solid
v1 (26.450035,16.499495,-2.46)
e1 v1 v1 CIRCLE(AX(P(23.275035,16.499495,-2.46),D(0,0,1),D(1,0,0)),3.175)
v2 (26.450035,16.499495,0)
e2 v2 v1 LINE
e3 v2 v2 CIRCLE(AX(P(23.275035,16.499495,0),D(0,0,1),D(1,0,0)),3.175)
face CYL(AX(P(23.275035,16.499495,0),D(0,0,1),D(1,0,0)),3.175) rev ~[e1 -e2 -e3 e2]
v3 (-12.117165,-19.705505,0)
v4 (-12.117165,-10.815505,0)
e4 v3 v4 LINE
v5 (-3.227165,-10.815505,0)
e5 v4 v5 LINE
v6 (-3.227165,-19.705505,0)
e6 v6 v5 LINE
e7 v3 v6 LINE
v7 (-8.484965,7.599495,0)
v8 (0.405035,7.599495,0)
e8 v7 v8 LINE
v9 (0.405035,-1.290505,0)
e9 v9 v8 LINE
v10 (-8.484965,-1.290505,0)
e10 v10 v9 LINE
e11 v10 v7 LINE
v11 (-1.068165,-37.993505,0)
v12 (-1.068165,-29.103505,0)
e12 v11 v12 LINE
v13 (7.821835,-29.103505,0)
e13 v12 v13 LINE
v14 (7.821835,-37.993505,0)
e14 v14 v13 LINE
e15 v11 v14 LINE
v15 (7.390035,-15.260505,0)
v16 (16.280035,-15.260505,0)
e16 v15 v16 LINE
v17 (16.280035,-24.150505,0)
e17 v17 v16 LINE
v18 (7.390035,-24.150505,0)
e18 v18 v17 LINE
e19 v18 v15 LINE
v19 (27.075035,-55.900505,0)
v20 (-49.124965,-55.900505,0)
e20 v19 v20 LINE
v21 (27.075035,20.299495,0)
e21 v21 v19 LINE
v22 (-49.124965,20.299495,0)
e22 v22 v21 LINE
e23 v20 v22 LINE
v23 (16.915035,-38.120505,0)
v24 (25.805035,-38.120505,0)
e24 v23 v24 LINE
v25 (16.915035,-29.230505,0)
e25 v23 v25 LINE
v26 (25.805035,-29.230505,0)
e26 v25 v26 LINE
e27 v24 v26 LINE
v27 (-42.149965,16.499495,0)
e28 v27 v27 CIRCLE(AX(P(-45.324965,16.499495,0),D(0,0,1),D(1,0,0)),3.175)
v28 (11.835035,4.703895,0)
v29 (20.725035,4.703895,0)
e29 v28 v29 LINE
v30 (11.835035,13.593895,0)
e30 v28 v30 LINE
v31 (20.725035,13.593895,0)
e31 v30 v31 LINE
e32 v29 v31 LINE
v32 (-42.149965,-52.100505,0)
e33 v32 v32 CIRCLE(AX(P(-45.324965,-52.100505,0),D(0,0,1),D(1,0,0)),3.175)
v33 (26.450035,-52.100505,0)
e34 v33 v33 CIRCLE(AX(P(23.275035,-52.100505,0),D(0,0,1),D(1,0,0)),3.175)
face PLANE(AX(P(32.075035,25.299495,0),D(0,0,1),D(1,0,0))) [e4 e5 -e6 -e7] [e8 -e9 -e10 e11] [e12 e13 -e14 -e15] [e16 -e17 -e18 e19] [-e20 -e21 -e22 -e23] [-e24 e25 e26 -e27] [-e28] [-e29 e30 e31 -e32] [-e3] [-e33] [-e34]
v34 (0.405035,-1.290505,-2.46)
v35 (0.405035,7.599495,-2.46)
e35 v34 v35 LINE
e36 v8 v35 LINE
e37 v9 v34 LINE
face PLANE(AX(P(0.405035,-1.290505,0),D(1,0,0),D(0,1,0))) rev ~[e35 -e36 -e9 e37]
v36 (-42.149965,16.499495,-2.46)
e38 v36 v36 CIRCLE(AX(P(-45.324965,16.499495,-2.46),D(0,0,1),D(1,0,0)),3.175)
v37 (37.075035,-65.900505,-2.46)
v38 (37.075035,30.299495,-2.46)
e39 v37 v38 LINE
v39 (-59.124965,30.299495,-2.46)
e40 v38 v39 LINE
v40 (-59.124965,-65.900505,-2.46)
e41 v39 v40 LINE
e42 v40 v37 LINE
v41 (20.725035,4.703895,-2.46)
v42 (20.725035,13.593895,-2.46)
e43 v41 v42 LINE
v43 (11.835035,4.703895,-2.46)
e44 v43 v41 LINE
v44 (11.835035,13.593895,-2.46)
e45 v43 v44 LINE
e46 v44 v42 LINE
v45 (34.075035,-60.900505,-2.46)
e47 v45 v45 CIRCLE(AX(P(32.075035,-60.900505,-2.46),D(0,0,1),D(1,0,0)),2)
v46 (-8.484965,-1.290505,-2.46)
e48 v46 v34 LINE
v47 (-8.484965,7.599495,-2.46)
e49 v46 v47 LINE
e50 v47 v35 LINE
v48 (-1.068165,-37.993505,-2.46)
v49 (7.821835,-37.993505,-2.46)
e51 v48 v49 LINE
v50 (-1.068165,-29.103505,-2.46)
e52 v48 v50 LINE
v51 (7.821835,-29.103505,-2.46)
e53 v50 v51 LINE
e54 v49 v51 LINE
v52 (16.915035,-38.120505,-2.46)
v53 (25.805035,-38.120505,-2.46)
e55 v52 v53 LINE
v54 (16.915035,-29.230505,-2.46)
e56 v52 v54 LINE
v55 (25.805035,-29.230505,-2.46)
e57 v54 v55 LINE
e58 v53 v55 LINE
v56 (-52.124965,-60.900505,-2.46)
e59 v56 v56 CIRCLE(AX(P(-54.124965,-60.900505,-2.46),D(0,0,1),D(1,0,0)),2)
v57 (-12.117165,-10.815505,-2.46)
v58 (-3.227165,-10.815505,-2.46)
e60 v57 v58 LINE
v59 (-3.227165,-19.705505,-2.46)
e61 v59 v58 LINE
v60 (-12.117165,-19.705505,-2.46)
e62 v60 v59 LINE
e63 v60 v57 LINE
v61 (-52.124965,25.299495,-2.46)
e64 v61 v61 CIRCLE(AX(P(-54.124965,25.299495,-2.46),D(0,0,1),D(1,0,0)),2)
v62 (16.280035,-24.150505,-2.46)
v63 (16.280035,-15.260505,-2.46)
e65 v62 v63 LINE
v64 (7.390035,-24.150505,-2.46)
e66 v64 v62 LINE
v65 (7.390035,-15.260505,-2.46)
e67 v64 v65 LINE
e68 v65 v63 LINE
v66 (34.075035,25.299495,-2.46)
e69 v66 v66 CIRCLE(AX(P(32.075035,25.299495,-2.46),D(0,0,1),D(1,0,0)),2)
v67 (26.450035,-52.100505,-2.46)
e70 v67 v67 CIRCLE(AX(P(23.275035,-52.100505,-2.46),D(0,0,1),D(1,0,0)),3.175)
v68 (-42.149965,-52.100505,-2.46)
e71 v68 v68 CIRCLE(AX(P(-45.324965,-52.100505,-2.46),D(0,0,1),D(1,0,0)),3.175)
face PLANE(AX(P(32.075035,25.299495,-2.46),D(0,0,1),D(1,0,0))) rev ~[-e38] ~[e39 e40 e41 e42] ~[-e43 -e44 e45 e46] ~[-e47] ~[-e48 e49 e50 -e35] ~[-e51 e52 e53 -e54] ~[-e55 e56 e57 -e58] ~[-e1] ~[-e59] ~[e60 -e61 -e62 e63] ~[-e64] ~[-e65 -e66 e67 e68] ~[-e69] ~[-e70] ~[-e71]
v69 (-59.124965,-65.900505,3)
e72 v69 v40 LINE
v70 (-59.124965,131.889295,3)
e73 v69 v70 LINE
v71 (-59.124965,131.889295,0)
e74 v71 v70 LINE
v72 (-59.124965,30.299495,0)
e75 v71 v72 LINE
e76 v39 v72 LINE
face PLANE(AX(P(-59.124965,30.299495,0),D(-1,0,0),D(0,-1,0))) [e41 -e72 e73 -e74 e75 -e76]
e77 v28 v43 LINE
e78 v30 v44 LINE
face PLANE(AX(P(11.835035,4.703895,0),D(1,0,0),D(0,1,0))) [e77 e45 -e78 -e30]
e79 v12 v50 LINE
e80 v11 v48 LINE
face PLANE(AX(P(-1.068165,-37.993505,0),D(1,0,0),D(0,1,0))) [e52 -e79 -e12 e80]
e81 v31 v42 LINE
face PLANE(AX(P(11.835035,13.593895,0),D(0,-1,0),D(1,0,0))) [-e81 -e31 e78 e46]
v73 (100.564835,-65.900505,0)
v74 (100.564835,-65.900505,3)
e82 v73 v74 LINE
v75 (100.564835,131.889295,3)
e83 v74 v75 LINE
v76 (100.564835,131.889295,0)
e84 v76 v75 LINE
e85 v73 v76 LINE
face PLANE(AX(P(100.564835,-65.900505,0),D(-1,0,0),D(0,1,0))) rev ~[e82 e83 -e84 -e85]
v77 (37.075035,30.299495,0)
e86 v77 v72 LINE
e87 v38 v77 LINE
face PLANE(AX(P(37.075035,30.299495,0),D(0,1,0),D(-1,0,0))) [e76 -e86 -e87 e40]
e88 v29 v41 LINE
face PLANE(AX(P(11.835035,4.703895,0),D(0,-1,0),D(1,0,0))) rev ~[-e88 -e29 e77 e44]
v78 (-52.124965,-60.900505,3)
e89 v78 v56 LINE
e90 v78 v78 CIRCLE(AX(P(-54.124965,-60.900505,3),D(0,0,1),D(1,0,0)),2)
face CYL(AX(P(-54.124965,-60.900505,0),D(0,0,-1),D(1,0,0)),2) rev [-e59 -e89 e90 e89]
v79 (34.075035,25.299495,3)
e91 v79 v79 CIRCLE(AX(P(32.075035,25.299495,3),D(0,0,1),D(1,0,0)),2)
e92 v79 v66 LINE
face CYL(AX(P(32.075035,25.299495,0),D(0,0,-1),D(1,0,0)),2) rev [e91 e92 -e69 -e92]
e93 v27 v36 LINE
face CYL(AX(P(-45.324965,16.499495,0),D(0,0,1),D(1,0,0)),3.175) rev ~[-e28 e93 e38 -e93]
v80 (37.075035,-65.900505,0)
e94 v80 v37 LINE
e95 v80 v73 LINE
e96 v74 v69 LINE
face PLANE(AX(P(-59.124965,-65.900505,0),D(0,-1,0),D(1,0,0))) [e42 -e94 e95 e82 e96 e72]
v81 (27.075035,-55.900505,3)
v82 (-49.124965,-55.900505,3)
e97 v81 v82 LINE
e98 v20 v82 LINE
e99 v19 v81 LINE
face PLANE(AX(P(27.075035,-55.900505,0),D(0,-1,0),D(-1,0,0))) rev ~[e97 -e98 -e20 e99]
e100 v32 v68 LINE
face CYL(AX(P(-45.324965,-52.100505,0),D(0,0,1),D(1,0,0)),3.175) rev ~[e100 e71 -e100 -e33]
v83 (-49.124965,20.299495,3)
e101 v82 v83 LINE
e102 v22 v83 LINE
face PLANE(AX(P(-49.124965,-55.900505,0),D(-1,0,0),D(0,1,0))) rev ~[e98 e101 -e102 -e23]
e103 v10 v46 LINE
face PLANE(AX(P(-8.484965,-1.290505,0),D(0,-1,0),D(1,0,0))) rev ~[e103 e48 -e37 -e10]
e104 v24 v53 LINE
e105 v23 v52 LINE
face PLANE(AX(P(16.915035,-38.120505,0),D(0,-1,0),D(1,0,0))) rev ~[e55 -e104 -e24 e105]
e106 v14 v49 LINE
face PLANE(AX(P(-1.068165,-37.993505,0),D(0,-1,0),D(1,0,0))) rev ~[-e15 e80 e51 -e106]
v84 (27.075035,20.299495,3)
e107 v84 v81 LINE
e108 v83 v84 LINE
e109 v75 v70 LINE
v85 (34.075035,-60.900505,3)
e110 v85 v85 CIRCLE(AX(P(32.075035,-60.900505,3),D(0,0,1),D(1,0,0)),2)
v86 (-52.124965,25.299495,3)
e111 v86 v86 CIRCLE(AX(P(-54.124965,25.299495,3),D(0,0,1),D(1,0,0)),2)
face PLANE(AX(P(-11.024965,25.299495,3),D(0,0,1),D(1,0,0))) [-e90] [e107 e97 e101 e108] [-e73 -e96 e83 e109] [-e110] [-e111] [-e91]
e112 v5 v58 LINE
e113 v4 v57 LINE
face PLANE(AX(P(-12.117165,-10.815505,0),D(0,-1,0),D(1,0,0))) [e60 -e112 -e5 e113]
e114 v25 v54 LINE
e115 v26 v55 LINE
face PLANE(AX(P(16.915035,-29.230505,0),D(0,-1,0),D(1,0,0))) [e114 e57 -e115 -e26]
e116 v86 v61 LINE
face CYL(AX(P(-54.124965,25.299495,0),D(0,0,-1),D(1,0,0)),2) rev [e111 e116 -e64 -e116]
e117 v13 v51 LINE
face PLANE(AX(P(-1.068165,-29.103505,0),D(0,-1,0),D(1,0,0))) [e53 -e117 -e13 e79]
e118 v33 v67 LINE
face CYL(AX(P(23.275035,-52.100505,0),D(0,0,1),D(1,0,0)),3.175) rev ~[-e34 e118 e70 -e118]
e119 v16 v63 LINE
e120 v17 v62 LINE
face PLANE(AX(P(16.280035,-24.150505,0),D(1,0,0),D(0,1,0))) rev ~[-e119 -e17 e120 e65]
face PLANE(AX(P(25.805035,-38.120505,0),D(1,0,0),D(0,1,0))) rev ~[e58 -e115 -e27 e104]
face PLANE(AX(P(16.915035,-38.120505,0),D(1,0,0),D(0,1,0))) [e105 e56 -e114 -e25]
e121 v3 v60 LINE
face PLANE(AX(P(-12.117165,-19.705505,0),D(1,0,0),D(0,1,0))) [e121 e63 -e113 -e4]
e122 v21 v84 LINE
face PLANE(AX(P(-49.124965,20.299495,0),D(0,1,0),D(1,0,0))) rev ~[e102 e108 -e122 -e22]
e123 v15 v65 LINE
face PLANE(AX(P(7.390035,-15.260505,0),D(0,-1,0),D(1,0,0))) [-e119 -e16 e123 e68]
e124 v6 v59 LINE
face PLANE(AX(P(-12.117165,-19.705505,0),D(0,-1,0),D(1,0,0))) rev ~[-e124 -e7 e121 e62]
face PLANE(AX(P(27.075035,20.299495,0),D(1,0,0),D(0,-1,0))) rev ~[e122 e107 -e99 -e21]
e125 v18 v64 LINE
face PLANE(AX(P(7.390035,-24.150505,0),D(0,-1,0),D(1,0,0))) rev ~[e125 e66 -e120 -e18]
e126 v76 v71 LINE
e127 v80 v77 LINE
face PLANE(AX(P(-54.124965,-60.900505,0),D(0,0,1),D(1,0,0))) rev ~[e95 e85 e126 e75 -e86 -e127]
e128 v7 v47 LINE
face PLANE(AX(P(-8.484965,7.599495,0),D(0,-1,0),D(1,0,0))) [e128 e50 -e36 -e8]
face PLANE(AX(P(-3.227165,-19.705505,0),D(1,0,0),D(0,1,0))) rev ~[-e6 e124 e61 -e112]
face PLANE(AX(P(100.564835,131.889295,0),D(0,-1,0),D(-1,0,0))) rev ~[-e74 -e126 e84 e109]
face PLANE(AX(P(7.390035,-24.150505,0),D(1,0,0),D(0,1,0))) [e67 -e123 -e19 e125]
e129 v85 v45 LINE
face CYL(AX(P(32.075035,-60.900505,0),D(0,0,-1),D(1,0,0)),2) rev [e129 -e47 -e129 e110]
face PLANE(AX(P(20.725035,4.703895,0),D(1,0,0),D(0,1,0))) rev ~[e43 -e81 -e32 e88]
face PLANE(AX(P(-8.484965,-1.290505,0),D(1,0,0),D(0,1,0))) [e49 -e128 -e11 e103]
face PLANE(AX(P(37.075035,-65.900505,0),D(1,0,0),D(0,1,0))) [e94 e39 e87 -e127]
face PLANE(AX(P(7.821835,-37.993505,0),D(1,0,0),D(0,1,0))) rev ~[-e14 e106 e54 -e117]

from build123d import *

# Parameters (mm, degrees)
F0_R     = 2
F1_DEPTH = 3
F0_R_2   = 3.175
F0_W     = 8.89
F0_H     = 8.89
F2_DEPTH = 2.46
F3_DEPTH = 3


with BuildPart() as f1:
    # F0 (on Top) → F1 (new body)
    with BuildSketch(Plane.XY):
        Polygon((-49.1249652207, 30.2994954109), (-49.1249652207, 20.2994954109), (-48.8709652207, 20.2994954109), (-45.1879652207, 20.2994954109), (23.1380347793, 20.2994954109), (26.8210347793, 20.2994954109), (27.0750347793, 20.2994954109), (27.0750347793, 20.4264954109), (27.0750347793, 30.2994954109), align=None)
        Polygon((-59.1249652207, 25.2994954109), (-59.1249652207, 20.2994954109), (-54.1249652207, 20.2994954109), (-49.1249652207, 20.2994954109), (-49.1249652207, 30.2994954109), (-59.1249652207, 30.2994954109), align=None)
        with Locations((-54.1249652207, 25.2994954109)):
            Circle(F0_R, mode=Mode.SUBTRACT)
        Polygon((-59.1249652207, -60.9005045891), (-59.1249652207, -65.9005045891), (-54.1249652207, -65.9005045891), (-49.1249652207, -65.9005045891), (-49.1249652207, -55.9005045891), (-59.1249652207, -55.9005045891), align=None)
        with Locations((-54.1249652207, -60.9005045891)):
            Circle(F0_R, mode=Mode.SUBTRACT)
        Polygon((-59.1249652207, -30.5005045891), (-59.1249652207, -55.9005045891), (-49.1249652207, -55.9005045891), (-49.1249652207, -55.6465045891), (-49.1249652207, -54.1503839195), (-49.1249652207, -51.9635045891), (-49.1249652207, -30.5005045891), align=None)
        Polygon((-59.1249652207, 20.2994954109), (-59.1249652207, -30.5005045891), (-49.1249652207, -30.5005045891), (-49.1249652207, 16.3624954109), (-49.1249652207, 20.0454954109), (-49.1249652207, 20.2994954109), (-54.1249652207, 20.2994954109), align=None)
        Polygon((27.0750347793, -55.6465045891), (27.0750347793, -55.9005045891), (27.1951819298, -55.9005045891), (37.0750347793, -55.9005045891), (37.0750347793, 20.2994954109), (32.0750347793, 20.2994954109), (27.3221819298, 20.2994954109), (27.0750347793, 20.2994954109), (27.0750347793, 20.0454954109), (27.0750347793, 16.3624954109), (27.0750347793, 4.7038954109), (27.0750347793, -1.2905045891), (27.0750347793, -19.7055045891), (27.0750347793, -24.1505045891), (27.0750347793, -37.9935045891), (27.0750347793, -38.1205045891), (27.0750347793, -51.9635045891), align=None)
        Polygon((32.0750347793, 20.2994954109), (37.0750347793, 20.2994954109), (37.0750347793, 25.2994954109), (37.0750347793, 30.2994954109), (27.0750347793, 30.2994954109), (27.0750347793, 20.4264954109), (27.0750347793, 20.2994954109), (27.3221819298, 20.2994954109), align=None)
        with Locations((32.0750347793, 25.2994954109)):
            Circle(F0_R, mode=Mode.SUBTRACT)
        Polygon((27.0750347793, -55.9005045891), (27.0750347793, -65.9005045891), (32.0750347793, -65.9005045891), (37.0750347793, -65.9005045891), (37.0750347793, -60.9005045891), (37.0750347793, -55.9005045891), (27.1951819298, -55.9005045891), align=None)
        with Locations((32.0750347793, -60.9005045891)):
            Circle(F0_R, mode=Mode.SUBTRACT)
        Polygon((-49.1249652207, -55.9005045891), (-49.1249652207, -65.9005045891), (27.0750347793, -65.9005045891), (27.0750347793, -55.9005045891), (26.8210347793, -55.9005045891), (26.5670347793, -55.9005045891), (24.5350347793, -55.9005045891), (23.5190347793, -55.9005045891), (23.1380347793, -55.9005045891), (6.5518347793, -55.9005045891), (-0.8649652207, -55.9005045891), (-4.4971652207, -55.9005045891), (-45.1879652207, -55.9005045891), (-48.8709652207, -55.9005045891), align=None)
    extrude(amount=F1_DEPTH)

    # F0 (on Top) → F2 (join)
    with BuildSketch(Plane.XY):
        Polygon((32.0750347793, 20.2994954109), (37.0750347793, 20.2994954109), (37.0750347793, 25.2994954109), (37.0750347793, 30.2994954109), (27.0750347793, 30.2994954109), (27.0750347793, 20.4264954109), (27.0750347793, 20.2994954109), (27.3221819298, 20.2994954109), align=None)
        with Locations((32.0750347793, 25.2994954109)):
            Circle(F0_R, mode=Mode.SUBTRACT)
        Polygon((27.0750347793, -55.6465045891), (27.0750347793, -55.9005045891), (27.1951819298, -55.9005045891), (37.0750347793, -55.9005045891), (37.0750347793, 20.2994954109), (32.0750347793, 20.2994954109), (27.3221819298, 20.2994954109), (27.0750347793, 20.2994954109), (27.0750347793, 20.0454954109), (27.0750347793, 16.3624954109), (27.0750347793, 4.7038954109), (27.0750347793, -1.2905045891), (27.0750347793, -19.7055045891), (27.0750347793, -24.1505045891), (27.0750347793, -37.9935045891), (27.0750347793, -38.1205045891), (27.0750347793, -51.9635045891), align=None)
        Polygon((-49.1249652207, 30.2994954109), (-49.1249652207, 20.2994954109), (-48.8709652207, 20.2994954109), (-45.1879652207, 20.2994954109), (23.1380347793, 20.2994954109), (26.8210347793, 20.2994954109), (27.0750347793, 20.2994954109), (27.0750347793, 20.4264954109), (27.0750347793, 30.2994954109), align=None)
        Polygon((-59.1249652207, 25.2994954109), (-59.1249652207, 20.2994954109), (-54.1249652207, 20.2994954109), (-49.1249652207, 20.2994954109), (-49.1249652207, 30.2994954109), (-59.1249652207, 30.2994954109), align=None)
        with Locations((-54.1249652207, 25.2994954109)):
            Circle(F0_R, mode=Mode.SUBTRACT)
        Polygon((-59.1249652207, 20.2994954109), (-59.1249652207, -30.5005045891), (-49.1249652207, -30.5005045891), (-49.1249652207, 16.3624954109), (-49.1249652207, 20.0454954109), (-49.1249652207, 20.2994954109), (-54.1249652207, 20.2994954109), align=None)
        Polygon((-59.1249652207, -60.9005045891), (-59.1249652207, -65.9005045891), (-54.1249652207, -65.9005045891), (-49.1249652207, -65.9005045891), (-49.1249652207, -55.9005045891), (-59.1249652207, -55.9005045891), align=None)
        with Locations((-54.1249652207, -60.9005045891)):
            Circle(F0_R, mode=Mode.SUBTRACT)
        Polygon((-59.1249652207, -30.5005045891), (-59.1249652207, -55.9005045891), (-49.1249652207, -55.9005045891), (-49.1249652207, -55.6465045891), (-49.1249652207, -54.1503839195), (-49.1249652207, -51.9635045891), (-49.1249652207, -30.5005045891), align=None)
        Polygon((-49.1249652207, -55.9005045891), (-49.1249652207, -65.9005045891), (27.0750347793, -65.9005045891), (27.0750347793, -55.9005045891), (26.8210347793, -55.9005045891), (26.5670347793, -55.9005045891), (24.5350347793, -55.9005045891), (23.5190347793, -55.9005045891), (23.1380347793, -55.9005045891), (6.5518347793, -55.9005045891), (-0.8649652207, -55.9005045891), (-4.4971652207, -55.9005045891), (-45.1879652207, -55.9005045891), (-48.8709652207, -55.9005045891), align=None)
        Polygon((27.0750347793, -55.9005045891), (27.0750347793, -65.9005045891), (32.0750347793, -65.9005045891), (37.0750347793, -65.9005045891), (37.0750347793, -60.9005045891), (37.0750347793, -55.9005045891), (27.1951819298, -55.9005045891), align=None)
        with Locations((32.0750347793, -60.9005045891)):
            Circle(F0_R, mode=Mode.SUBTRACT)
        Polygon((-49.1249652207, -55.6465045891), (-49.1249652207, -55.9005045891), (-48.8709652207, -55.9005045891), (-45.1879652207, -55.9005045891), (-4.4971652207, -55.9005045891), (-0.8649652207, -55.9005045891), (6.5518347793, -55.9005045891), (23.1380347793, -55.9005045891), (23.5190347793, -55.9005045891), (24.5350347793, -55.9005045891), (26.5670347793, -55.9005045891), (26.8210347793, -55.9005045891), (27.0750347793, -55.9005045891), (27.0750347793, -55.6465045891), (27.0750347793, -51.9635045891), (27.0750347793, -38.1205045891), (27.0750347793, -37.9935045891), (27.0750347793, -24.1505045891), (27.0750347793, -19.7055045891), (27.0750347793, -1.2905045891), (27.0750347793, 4.7038954109), (27.0750347793, 16.3624954109), (27.0750347793, 20.0454954109), (27.0750347793, 20.2994954109), (26.8210347793, 20.2994954109), (23.1380347793, 20.2994954109), (-45.1879652207, 20.2994954109), (-48.8709652207, 20.2994954109), (-49.1249652207, 20.2994954109), (-49.1249652207, 20.0454954109), (-49.1249652207, 16.3624954109), (-49.1249652207, -30.5005045891), (-49.1249652207, -51.9635045891), (-49.1249652207, -54.1503839195), align=None)
        with Locations((-45.3249652207, -52.1005045891)):
            Circle(F0_R_2, mode=Mode.SUBTRACT)
        with Locations((3.3768347793, -33.5485045891)):
            Rectangle(F0_W, F0_H, mode=Mode.SUBTRACT)
        with Locations((11.8350347793, -19.7055045891)):
            Rectangle(F0_W, F0_H, mode=Mode.SUBTRACT)
        with Locations((-45.3249652207, 16.4994954109)):
            Circle(F0_R_2, mode=Mode.SUBTRACT)
        with Locations((-7.6721652207, -15.2605045891)):
            Rectangle(F0_W, F0_H, mode=Mode.SUBTRACT)
        with Locations((-4.0399652207, 3.1544954109)):
            Rectangle(F0_W, F0_H, mode=Mode.SUBTRACT)
        with Locations((16.2800347793, 9.1488954109)):
            Rectangle(F0_W, F0_H, mode=Mode.SUBTRACT)
        with Locations((23.2750347793, -52.1005045891)):
            Circle(F0_R_2, mode=Mode.SUBTRACT)
        with Locations((21.3600347793, -33.6755045891)):
            Rectangle(F0_W, F0_H, mode=Mode.SUBTRACT)
        with Locations((23.2750347793, 16.4994954109)):
            Circle(F0_R_2, mode=Mode.SUBTRACT)
    extrude(amount=-F2_DEPTH)

    # F0 (on Top) → F3 (join)
    with BuildSketch(Plane.XY):
        Polygon((-59.1249652207, -60.9005045891), (-59.1249652207, -65.9005045891), (-54.1249652207, -65.9005045891), (-49.1249652207, -65.9005045891), (-49.1249652207, -55.9005045891), (-59.1249652207, -55.9005045891), align=None)
        with Locations((-54.1249652207, -60.9005045891)):
            Circle(F0_R, mode=Mode.SUBTRACT)
        Polygon((-49.1249652207, -55.9005045891), (-49.1249652207, -65.9005045891), (27.0750347793, -65.9005045891), (27.0750347793, -55.9005045891), (26.8210347793, -55.9005045891), (26.5670347793, -55.9005045891), (24.5350347793, -55.9005045891), (23.5190347793, -55.9005045891), (23.1380347793, -55.9005045891), (6.5518347793, -55.9005045891), (-0.8649652207, -55.9005045891), (-4.4971652207, -55.9005045891), (-45.1879652207, -55.9005045891), (-48.8709652207, -55.9005045891), align=None)
        Polygon((-59.1249652207, -30.5005045891), (-59.1249652207, -55.9005045891), (-49.1249652207, -55.9005045891), (-49.1249652207, -55.6465045891), (-49.1249652207, -54.1503839195), (-49.1249652207, -51.9635045891), (-49.1249652207, -30.5005045891), align=None)
        Polygon((27.0750347793, -55.9005045891), (27.0750347793, -65.9005045891), (32.0750347793, -65.9005045891), (37.0750347793, -65.9005045891), (37.0750347793, -60.9005045891), (37.0750347793, -55.9005045891), (27.1951819298, -55.9005045891), align=None)
        with Locations((32.0750347793, -60.9005045891)):
            Circle(F0_R, mode=Mode.SUBTRACT)
        Polygon((-59.1249652207, 20.2994954109), (-59.1249652207, -30.5005045891), (-49.1249652207, -30.5005045891), (-49.1249652207, 16.3624954109), (-49.1249652207, 20.0454954109), (-49.1249652207, 20.2994954109), (-54.1249652207, 20.2994954109), align=None)
        Polygon((-59.1249652207, 25.2994954109), (-59.1249652207, 20.2994954109), (-54.1249652207, 20.2994954109), (-49.1249652207, 20.2994954109), (-49.1249652207, 30.2994954109), (-59.1249652207, 30.2994954109), align=None)
        with Locations((-54.1249652207, 25.2994954109)):
            Circle(F0_R, mode=Mode.SUBTRACT)
        Polygon((37.0750347793, -60.9005045891), (37.0750347793, -65.9005045891), (100.5648347793, -65.9005045891), (100.5648347793, 131.8892954109), (-59.1249652207, 131.8892954109), (-59.1249652207, 30.2994954109), (-49.1249652207, 30.2994954109), (27.0750347793, 30.2994954109), (37.0750347793, 30.2994954109), (37.0750347793, 25.2994954109), (37.0750347793, 20.2994954109), (37.0750347793, -55.9005045891), align=None)
    extrude(amount=F3_DEPTH)


solid = f1.part
